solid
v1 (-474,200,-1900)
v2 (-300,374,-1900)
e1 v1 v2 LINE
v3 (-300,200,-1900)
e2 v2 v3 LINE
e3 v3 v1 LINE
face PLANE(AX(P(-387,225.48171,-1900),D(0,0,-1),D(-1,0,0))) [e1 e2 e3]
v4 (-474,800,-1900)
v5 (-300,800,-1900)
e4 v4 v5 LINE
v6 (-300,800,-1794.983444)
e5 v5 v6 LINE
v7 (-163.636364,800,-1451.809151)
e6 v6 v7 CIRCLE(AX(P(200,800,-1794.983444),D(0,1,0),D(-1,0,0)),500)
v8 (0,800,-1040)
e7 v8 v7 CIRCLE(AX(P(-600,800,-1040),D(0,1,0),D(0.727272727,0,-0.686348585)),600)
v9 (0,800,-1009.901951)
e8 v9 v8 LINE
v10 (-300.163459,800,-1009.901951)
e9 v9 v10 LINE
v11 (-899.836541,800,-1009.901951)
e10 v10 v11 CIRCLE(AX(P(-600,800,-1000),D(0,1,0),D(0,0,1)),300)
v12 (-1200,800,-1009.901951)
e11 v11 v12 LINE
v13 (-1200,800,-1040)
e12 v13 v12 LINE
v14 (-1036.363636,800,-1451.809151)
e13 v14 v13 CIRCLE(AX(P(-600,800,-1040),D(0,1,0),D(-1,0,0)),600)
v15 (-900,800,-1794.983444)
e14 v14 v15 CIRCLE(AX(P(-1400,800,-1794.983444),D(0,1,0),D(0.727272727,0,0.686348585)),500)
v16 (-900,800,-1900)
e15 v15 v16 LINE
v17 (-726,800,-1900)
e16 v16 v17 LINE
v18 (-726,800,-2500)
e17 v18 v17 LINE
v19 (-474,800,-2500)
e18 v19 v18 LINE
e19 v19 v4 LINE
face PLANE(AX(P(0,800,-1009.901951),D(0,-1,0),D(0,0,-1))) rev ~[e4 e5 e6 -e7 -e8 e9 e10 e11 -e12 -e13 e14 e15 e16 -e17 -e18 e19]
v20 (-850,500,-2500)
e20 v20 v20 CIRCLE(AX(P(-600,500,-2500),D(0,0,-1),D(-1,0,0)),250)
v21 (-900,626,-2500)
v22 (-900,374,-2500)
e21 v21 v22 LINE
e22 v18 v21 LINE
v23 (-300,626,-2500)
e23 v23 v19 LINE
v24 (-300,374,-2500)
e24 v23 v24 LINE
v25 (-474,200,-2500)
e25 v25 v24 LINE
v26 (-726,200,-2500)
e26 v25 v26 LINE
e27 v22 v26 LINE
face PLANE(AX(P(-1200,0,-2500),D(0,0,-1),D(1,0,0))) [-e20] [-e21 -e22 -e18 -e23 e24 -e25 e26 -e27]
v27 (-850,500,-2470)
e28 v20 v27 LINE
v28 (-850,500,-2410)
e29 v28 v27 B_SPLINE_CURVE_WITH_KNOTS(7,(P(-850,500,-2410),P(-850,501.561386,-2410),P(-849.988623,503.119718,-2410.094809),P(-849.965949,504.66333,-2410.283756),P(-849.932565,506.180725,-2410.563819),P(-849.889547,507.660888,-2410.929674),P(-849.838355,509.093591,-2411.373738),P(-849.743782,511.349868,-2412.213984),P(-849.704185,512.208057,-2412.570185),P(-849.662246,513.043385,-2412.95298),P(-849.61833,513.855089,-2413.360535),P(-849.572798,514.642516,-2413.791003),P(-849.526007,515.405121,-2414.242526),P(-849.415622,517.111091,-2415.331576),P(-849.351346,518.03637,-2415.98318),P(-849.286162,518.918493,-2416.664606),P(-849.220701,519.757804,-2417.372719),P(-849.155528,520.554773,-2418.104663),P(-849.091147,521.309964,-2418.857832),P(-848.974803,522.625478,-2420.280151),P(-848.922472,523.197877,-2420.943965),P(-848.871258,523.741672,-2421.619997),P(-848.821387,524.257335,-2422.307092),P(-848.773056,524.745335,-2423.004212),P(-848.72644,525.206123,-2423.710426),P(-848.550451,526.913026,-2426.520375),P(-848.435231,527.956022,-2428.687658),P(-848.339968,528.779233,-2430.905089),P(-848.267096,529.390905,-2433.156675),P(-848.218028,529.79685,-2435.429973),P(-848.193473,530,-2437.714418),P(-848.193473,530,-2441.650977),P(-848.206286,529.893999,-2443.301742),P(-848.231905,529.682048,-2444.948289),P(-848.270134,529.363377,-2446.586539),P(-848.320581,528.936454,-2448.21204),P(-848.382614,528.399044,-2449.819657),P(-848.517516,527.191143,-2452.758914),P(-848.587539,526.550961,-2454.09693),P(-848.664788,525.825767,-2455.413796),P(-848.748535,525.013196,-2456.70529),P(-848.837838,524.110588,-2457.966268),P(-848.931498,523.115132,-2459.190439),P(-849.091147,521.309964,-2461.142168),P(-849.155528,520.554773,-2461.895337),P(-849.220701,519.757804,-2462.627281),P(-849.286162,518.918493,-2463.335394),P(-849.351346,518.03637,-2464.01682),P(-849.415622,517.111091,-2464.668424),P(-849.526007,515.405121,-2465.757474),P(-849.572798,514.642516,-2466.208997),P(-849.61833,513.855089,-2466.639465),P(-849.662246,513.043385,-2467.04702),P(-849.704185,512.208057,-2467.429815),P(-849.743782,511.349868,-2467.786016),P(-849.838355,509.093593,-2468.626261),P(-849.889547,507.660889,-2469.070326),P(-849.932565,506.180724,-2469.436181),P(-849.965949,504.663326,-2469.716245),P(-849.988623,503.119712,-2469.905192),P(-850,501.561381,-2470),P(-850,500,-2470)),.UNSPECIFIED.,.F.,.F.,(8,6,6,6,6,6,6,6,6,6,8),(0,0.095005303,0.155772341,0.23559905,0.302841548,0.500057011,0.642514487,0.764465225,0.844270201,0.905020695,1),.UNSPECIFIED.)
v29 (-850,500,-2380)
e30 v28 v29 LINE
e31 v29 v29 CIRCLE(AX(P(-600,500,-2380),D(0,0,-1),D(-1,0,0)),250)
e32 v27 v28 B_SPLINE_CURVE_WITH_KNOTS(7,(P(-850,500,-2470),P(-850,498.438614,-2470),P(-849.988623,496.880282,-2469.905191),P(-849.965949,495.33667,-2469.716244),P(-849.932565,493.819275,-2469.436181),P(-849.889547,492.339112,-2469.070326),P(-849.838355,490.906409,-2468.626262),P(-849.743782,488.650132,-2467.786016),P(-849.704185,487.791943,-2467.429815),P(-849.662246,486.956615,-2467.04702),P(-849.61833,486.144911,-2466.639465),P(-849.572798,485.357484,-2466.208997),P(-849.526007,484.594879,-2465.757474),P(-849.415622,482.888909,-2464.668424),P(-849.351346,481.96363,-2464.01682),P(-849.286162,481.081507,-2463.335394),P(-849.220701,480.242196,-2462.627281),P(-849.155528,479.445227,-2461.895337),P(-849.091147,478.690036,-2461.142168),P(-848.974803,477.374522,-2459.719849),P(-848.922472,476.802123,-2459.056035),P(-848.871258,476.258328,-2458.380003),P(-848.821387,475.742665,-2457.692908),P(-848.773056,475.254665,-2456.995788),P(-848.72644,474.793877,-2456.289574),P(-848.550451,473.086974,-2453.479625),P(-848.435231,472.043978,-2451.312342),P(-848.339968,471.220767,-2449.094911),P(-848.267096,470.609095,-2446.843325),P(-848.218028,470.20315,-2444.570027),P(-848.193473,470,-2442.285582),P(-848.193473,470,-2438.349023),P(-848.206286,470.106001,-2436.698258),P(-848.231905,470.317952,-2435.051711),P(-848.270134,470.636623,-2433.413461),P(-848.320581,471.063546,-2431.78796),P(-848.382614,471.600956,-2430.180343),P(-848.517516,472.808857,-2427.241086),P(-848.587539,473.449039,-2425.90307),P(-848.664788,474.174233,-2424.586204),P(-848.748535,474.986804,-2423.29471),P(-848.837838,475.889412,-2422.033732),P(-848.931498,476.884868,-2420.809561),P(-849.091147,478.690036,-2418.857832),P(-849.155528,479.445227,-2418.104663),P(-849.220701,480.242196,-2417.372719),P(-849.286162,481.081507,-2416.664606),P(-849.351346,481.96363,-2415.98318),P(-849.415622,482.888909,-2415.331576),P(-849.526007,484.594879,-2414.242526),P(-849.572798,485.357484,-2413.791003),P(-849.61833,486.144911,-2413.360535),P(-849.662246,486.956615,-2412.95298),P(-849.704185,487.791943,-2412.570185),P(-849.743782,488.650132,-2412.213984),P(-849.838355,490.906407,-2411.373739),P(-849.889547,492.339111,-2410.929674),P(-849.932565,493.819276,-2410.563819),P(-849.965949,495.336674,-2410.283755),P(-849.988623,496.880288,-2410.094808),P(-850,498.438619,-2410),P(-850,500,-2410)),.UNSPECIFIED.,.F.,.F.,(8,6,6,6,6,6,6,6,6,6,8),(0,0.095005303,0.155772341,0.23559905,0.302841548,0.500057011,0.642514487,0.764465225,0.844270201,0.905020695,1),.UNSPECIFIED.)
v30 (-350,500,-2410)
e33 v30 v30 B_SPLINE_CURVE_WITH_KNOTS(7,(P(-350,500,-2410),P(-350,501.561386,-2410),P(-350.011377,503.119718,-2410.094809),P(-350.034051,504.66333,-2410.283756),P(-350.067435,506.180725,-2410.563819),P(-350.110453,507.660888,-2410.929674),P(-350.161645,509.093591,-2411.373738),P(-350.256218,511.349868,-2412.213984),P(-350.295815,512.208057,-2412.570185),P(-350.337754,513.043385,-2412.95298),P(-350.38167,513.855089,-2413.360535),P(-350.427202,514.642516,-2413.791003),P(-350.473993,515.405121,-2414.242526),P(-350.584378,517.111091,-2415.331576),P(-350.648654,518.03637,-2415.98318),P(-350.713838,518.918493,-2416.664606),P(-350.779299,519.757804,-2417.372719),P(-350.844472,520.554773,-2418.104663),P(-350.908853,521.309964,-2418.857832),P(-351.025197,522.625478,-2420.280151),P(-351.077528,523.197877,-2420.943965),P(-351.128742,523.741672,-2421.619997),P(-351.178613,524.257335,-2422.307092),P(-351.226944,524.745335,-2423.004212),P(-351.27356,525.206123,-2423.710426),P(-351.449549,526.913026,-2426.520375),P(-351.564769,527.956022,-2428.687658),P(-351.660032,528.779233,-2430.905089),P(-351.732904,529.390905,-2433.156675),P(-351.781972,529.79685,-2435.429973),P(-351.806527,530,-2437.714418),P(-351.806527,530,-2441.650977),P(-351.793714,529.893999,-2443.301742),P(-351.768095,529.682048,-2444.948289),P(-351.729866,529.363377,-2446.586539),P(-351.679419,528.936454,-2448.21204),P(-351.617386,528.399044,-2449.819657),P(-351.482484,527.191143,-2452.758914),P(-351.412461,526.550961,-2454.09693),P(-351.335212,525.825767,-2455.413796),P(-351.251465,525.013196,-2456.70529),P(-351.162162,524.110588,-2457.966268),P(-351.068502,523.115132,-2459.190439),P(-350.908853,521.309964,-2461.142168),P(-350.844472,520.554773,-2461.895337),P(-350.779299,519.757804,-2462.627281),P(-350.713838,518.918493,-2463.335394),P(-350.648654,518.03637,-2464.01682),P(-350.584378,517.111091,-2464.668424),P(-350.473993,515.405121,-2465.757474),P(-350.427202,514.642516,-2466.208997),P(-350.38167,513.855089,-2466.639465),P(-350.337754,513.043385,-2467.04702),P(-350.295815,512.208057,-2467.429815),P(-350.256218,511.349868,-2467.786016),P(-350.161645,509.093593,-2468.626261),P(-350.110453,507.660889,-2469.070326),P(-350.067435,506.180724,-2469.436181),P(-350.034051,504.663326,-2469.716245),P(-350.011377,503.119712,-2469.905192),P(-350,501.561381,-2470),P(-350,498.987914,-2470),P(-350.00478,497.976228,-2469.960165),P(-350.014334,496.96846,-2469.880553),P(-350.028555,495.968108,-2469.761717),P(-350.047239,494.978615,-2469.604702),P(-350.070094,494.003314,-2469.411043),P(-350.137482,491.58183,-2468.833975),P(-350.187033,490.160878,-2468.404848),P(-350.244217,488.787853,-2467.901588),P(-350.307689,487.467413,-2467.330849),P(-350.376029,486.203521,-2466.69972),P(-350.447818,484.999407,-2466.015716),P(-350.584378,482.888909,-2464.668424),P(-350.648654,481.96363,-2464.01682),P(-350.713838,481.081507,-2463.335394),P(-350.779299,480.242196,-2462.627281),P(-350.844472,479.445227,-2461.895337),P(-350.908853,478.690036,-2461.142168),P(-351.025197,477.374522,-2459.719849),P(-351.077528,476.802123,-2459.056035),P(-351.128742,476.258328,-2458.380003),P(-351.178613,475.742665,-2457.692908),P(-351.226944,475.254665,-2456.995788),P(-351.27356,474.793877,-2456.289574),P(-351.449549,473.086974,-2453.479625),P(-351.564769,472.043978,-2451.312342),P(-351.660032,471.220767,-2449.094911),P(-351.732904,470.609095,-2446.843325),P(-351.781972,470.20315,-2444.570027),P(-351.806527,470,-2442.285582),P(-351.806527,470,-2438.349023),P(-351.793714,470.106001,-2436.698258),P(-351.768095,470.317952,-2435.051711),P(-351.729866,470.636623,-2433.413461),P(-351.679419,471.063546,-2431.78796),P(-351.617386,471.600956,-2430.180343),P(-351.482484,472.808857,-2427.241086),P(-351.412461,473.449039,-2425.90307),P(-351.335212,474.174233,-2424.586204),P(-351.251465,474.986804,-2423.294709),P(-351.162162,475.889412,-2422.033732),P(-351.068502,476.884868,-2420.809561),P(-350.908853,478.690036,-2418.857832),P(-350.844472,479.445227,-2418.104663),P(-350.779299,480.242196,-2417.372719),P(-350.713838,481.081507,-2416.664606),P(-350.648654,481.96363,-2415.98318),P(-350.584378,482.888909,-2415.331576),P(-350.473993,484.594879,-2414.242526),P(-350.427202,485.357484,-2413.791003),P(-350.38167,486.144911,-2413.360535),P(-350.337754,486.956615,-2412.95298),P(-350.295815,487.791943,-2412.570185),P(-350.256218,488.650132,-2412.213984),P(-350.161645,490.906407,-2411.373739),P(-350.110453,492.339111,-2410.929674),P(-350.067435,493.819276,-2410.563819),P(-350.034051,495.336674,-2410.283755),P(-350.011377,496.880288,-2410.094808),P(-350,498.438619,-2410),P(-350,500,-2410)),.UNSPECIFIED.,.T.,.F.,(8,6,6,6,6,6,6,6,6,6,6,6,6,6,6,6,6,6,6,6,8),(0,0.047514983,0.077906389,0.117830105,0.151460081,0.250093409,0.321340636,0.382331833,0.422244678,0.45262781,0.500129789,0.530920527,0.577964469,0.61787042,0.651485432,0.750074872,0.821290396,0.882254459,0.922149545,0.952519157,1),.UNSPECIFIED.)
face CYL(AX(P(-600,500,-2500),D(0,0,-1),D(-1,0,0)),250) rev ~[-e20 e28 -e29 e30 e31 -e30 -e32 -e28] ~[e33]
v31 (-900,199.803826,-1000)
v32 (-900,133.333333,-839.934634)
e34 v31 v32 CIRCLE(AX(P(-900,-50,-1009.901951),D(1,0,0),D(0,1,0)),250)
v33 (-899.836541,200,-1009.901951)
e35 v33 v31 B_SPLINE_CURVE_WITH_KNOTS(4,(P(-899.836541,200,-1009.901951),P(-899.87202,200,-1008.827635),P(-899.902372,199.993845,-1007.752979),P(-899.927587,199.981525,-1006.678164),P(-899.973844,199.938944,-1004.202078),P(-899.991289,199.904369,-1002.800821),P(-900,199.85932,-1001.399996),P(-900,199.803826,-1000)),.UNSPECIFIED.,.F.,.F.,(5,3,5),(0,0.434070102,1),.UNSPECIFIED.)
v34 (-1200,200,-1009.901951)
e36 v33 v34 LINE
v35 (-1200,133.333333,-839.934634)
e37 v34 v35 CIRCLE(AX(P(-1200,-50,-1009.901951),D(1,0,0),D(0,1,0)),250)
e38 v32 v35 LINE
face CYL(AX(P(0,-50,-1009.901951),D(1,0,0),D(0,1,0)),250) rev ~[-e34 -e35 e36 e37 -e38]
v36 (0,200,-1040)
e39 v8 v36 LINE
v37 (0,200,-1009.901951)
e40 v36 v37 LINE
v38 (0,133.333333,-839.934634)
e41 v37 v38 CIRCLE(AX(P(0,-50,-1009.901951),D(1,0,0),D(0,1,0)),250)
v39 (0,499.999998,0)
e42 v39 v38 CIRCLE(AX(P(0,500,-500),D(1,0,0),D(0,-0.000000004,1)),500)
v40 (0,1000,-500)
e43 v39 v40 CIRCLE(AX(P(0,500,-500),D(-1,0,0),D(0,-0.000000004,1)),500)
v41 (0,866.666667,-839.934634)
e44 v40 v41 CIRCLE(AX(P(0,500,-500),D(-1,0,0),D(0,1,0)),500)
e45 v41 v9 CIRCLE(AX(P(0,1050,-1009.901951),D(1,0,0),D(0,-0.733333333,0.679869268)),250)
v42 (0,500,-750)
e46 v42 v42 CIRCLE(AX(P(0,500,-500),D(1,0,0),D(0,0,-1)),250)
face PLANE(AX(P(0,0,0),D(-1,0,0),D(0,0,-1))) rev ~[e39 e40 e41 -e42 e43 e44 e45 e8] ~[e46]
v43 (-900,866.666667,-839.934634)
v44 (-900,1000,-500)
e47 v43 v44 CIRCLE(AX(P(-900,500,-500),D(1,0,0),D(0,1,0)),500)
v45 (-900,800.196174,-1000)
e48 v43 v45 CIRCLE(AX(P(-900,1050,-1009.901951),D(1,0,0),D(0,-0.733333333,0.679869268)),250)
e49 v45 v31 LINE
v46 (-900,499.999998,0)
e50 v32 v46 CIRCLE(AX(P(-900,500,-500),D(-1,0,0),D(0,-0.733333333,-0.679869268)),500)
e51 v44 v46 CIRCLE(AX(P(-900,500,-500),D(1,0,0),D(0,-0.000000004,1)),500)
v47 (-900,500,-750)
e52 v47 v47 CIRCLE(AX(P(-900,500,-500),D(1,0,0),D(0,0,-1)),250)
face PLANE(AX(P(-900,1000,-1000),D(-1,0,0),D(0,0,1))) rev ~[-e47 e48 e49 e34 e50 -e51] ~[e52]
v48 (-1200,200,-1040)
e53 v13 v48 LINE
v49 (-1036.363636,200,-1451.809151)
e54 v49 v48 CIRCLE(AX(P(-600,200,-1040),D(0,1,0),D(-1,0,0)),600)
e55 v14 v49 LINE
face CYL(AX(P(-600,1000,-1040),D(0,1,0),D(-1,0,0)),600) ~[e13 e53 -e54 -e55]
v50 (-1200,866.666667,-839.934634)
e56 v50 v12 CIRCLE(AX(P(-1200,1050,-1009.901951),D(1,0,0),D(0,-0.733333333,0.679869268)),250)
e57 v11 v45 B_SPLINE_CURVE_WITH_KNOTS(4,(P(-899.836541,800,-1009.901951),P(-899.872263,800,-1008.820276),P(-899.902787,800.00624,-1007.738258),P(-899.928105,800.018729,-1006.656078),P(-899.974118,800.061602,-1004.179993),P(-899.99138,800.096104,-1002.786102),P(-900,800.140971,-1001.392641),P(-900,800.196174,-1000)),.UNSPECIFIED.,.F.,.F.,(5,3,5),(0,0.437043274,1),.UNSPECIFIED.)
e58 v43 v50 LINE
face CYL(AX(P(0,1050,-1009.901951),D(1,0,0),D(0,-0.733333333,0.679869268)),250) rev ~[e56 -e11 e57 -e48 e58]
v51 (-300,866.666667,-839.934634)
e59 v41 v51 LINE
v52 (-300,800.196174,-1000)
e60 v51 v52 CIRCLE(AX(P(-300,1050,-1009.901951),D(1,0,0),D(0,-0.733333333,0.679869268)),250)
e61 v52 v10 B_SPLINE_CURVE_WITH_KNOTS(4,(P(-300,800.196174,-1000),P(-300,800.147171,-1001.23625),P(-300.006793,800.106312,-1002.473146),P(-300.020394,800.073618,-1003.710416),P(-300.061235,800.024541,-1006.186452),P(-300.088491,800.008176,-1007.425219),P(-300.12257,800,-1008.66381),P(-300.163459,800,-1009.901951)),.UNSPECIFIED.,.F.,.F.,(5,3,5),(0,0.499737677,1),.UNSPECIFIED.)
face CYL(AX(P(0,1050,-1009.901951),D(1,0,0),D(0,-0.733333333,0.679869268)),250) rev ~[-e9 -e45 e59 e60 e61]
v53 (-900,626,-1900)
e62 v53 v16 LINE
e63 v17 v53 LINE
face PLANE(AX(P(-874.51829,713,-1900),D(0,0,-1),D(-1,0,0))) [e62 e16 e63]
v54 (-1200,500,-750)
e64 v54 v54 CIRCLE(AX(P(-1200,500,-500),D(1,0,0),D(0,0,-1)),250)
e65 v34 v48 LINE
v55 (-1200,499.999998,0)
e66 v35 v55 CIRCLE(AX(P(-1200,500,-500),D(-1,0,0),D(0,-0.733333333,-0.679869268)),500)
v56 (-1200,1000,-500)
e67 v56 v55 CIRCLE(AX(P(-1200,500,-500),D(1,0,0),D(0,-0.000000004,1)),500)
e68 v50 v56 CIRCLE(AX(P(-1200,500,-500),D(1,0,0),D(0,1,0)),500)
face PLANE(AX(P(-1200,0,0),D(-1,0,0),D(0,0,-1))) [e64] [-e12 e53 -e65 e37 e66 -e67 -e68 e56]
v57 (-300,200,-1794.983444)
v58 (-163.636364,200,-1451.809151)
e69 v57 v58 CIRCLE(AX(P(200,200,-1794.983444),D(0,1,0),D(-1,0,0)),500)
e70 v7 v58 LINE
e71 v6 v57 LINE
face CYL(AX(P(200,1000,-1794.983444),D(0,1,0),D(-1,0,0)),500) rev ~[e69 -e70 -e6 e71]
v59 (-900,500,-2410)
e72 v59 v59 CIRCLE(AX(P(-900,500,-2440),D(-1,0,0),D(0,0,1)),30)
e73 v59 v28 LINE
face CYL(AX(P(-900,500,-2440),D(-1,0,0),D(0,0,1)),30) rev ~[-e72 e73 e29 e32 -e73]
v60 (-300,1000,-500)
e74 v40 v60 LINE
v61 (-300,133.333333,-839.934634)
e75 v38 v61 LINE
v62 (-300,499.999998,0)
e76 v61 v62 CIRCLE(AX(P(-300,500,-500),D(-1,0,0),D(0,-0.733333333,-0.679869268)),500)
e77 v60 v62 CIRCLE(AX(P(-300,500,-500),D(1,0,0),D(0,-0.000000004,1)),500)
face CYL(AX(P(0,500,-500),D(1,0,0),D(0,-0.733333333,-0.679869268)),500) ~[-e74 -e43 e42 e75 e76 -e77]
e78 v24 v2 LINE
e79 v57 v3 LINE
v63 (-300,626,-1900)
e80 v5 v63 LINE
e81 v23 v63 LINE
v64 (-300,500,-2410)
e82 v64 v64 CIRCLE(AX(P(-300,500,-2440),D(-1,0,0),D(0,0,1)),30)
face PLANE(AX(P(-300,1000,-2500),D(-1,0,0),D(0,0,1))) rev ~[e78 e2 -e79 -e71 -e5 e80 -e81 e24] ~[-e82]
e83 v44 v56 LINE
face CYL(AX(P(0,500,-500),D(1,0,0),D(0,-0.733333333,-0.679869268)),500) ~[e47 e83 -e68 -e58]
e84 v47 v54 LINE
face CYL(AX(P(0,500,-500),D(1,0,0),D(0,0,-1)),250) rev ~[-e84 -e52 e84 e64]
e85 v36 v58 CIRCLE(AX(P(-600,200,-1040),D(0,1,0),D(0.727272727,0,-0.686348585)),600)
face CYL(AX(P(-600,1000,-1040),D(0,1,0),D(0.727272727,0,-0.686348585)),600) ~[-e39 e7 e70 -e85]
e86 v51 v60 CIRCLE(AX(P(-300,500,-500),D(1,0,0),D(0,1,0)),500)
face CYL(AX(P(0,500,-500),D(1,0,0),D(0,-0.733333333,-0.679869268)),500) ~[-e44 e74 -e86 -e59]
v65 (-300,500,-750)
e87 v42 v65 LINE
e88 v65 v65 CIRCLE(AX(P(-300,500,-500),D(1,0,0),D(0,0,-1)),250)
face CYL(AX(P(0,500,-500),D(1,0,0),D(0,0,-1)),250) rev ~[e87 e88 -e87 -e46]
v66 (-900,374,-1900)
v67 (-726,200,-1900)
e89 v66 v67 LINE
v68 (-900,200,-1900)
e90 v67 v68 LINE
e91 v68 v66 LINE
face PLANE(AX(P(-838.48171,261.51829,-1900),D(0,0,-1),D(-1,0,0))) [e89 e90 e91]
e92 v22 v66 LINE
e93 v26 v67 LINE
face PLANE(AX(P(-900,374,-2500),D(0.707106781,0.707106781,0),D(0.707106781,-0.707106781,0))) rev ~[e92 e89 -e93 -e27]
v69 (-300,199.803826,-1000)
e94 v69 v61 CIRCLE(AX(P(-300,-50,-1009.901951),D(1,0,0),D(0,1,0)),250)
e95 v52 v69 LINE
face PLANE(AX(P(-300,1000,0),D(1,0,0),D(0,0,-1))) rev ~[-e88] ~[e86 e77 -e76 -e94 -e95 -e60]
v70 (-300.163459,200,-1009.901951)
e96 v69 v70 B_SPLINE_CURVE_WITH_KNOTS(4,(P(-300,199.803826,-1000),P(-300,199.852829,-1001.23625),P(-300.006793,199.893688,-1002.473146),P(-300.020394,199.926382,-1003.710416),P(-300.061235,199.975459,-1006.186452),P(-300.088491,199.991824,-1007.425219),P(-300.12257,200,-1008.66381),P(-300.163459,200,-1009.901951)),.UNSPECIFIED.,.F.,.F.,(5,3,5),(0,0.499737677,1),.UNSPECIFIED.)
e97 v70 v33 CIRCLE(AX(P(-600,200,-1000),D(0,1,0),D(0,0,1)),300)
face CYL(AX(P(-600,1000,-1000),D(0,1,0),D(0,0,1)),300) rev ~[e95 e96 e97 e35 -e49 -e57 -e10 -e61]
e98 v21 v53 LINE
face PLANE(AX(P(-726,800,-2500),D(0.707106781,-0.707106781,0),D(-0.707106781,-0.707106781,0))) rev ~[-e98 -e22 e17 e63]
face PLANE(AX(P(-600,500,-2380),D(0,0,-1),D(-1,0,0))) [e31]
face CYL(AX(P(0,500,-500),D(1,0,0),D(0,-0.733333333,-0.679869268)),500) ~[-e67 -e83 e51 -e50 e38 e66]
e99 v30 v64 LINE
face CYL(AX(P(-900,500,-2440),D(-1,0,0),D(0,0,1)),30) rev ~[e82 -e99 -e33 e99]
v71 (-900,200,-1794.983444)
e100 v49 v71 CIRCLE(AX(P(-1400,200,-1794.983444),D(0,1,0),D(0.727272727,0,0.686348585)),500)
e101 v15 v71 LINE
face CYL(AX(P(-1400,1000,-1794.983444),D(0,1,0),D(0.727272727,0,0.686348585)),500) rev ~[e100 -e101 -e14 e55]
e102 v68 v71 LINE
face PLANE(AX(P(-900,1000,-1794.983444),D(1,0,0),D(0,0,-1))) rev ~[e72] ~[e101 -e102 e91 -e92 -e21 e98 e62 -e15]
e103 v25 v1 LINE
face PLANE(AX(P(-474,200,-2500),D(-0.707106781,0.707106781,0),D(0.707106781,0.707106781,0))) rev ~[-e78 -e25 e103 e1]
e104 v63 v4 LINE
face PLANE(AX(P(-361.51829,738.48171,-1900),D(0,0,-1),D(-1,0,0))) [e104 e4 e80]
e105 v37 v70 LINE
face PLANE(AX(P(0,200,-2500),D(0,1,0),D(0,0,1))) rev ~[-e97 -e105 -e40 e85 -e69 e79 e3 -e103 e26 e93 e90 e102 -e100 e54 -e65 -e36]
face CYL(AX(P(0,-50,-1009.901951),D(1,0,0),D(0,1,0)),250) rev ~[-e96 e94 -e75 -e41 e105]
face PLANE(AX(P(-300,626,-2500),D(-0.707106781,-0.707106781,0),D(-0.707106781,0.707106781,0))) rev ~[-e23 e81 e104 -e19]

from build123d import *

# Parameters (mm, degrees)
SKETCH1_W           = 1200
SKETCH1_H           = 2500
BOSS_EXTRUDE1_DEPTH = 1000
CUT_EXTRUDE1_DEPTH  = 1000
CUT_EXTRUDE4_DEPTH  = 2948.880594597
CUT_EXTRUDE6_DEPTH  = 600
SKETCH6_R           = 250
CUT_EXTRUDE7_DEPTH  = 120
SKETCH7_R           = 30
CUT_EXTRUDE9_DEPTH  = 2840.013913347
SKETCH8_R           = 250
CUT_EXTRUDE10_DEPTH = 2948.880594722


with BuildPart() as part:
    # Sketch1 → Boss-Extrude1 (new body)
    with BuildSketch(Plane(origin=(0, 0, 0), x_dir=(1, 0, 0), z_dir=(0, 1, 0))):
        with Locations((-600, 1250)):
            Rectangle(SKETCH1_W, SKETCH1_H)
    extrude(amount=BOSS_EXTRUDE1_DEPTH)

    # Sketch2 → Cut-Extrude1 (cut)
    with BuildSketch(Plane(origin=(0, 1000, 0), x_dir=(1, 0, 0), z_dir=(0, 1, 0))):
        with BuildLine():
            Line((-900, 1794.983443527), (-900, 2500))
            Line((-900, 2500), (-1200, 2500))
            Line((-1200, 2500), (-1200, 1040))
            ThreePointArc((-1200, 1040), (-1157.592226371, 1261.564683763), (-1036.363636364, 1451.809151015))
            ThreePointArc((-1036.363636364, 1451.809151015), (-935.339811358, 1610.346207058), (-900, 1794.983443527))
        make_face()
        with BuildLine():
            Line((0, 2500), (-300, 2500))
            Line((-300, 2500), (-300, 1794.983443527))
            ThreePointArc((-300, 1794.983443527), (-264.660188642, 1610.346207058), (-163.636363636, 1451.809151015))
            ThreePointArc((-163.636363636, 1451.809151015), (-42.407773629, 1261.564683763), (0, 1040))
            Line((0, 1040), (0, 2500))
        make_face()
        with BuildLine():
            Line((-600, 0), (-600, 440))
            ThreePointArc((-600, 440), (-755.291427062, 460.444504227), (-900, 520.384757729))
            Line((-900, 520.384757729), (-900, 0))
            Line((-900, 0), (-600, 0))
        make_face()
        with BuildLine():
            Line((-600, 440), (-600, 700))
            ThreePointArc((-600, 700), (-812.132034356, 787.867965644), (-900, 1000))
            Line((-900, 1000), (-900, 520.384757729))
            ThreePointArc((-900, 520.384757729), (-755.291427062, 460.444504227), (-600, 440))
        make_face()
        with BuildLine():
            ThreePointArc((-300, 1000), (-387.867965644, 1212.132034356), (-600, 1300))
            Line((-600, 1300), (-600, 700))
            ThreePointArc((-600, 700), (-387.867965644, 787.867965644), (-300, 1000))
        make_face()
        with BuildLine():
            Line((-600, 700), (-600, 1300))
            ThreePointArc((-600, 1300), (-812.132034356, 1212.132034356), (-900, 1000))
            ThreePointArc((-900, 1000), (-812.132034356, 787.867965644), (-600, 700))
        make_face()
        with BuildLine():
            ThreePointArc((-300, 1000), (-387.867965644, 787.867965644), (-600, 700))
            Line((-600, 700), (-600, 440))
            ThreePointArc((-600, 440), (-444.708572938, 460.444504227), (-300, 520.384757729))
            Line((-300, 520.384757729), (-300, 1000))
        make_face()
        with BuildLine():
            ThreePointArc((-300, 520.384757729), (-444.708572938, 460.444504227), (-600, 440))
            Line((-600, 440), (-600, 0))
            Line((-600, 0), (-300, 0))
            Line((-300, 0), (-300, 520.384757729))
        make_face()
    extrude(amount=-CUT_EXTRUDE1_DEPTH, mode=Mode.SUBTRACT)

    # Sketch3 → Cut-Extrude4 (cut, through all)
    with BuildSketch(Plane(origin=(0, 0, 0), x_dir=(0, 0, -1), z_dir=(1, 0, 0))):
        with BuildLine():
            Line((500, 1000), (0, 1000))
            Line((0, 1000), (0, 499.999997907))
            ThreePointArc((0, 499.999997907), (146.446608667, 853.553389853), (500, 1000))
        make_face()
        with BuildLine():
            Line((1040, 1000), (500, 1000))
            ThreePointArc((500, 1000), (682.574185835, 965.474668126), (839.93463424, 866.666666667))
            ThreePointArc((839.93463424, 866.666666667), (918.614858442, 817.262665937), (1009.901951359, 800))
            Line((1009.901951359, 800), (1040, 800))
            Line((1040, 800), (1040, 1000))
        make_face()
        Polygon((1451.809151015, 1000), (1040, 1000), (1040, 800), (2500, 800), (2500, 1000), (1794.983443527, 1000), align=None)
        Polygon((1040, 200), (1040, 0), (1451.809151015, 0), (1794.983443527, 0), (2500, 0), (2500, 200), align=None)
        with BuildLine():
            ThreePointArc((839.93463424, 133.333333333), (682.574185835, 34.525331874), (500, 0))
            Line((500, 0), (1040, 0))
            Line((1040, 0), (1040, 200))
            Line((1040, 200), (1009.901951359, 200))
            ThreePointArc((1009.901951359, 200), (918.614858442, 182.737334063), (839.93463424, 133.333333333))
        make_face()
        with BuildLine():
            ThreePointArc((500, 0), (146.446610147, 146.446608667), (0, 499.999997907))
            Line((0, 499.999997907), (0, 0))
            Line((0, 0), (500, 0))
        make_face()
    extrude(amount=-CUT_EXTRUDE4_DEPTH, mode=Mode.SUBTRACT)

    # Sketch5 → Cut-Extrude6 (cut)
    with BuildSketch(Plane(origin=(0, 0, -2500), x_dir=(-1, 0, 0), z_dir=(0, 0, -1))):
        Polygon((300, 800), (300, 626), (474, 800), align=None)
        Polygon((900, 800), (813, 713), (900, 626), align=None)
        Polygon((900, 374), (726, 200), (900, 200), align=None)
        Polygon((387, 287), (300, 200), (474, 200), align=None)
        Polygon((300, 374), (300, 200), (387, 287), align=None)
        Polygon((726, 800), (813, 713), (900, 800), align=None)
    extrude(amount=-CUT_EXTRUDE6_DEPTH, mode=Mode.SUBTRACT)

    # Sketch6 → Cut-Extrude7 (cut)
    with BuildSketch(Plane(origin=(0, 0, -2500), x_dir=(-1, 0, 0), z_dir=(0, 0, -1))):
        with Locations((600, 500)):
            Circle(SKETCH6_R)
    extrude(amount=-CUT_EXTRUDE7_DEPTH, mode=Mode.SUBTRACT)

    # Sketch7 → Cut-Extrude9 (cut, through all)
    with BuildSketch(Plane.ZY.offset(900)):
        with Locations((-2440, 500)):
            Circle(SKETCH7_R)
    extrude(amount=-CUT_EXTRUDE9_DEPTH, mode=Mode.SUBTRACT)

    # Sketch8 → Cut-Extrude10 (cut, through all)
    with BuildSketch(Plane(origin=(0, 0, 0), x_dir=(0, 0, -1), z_dir=(1, 0, 0))):
        with Locations((500, 500)):
            Circle(SKETCH8_R)
    extrude(amount=-CUT_EXTRUDE10_DEPTH, mode=Mode.SUBTRACT)


solid = part.part
